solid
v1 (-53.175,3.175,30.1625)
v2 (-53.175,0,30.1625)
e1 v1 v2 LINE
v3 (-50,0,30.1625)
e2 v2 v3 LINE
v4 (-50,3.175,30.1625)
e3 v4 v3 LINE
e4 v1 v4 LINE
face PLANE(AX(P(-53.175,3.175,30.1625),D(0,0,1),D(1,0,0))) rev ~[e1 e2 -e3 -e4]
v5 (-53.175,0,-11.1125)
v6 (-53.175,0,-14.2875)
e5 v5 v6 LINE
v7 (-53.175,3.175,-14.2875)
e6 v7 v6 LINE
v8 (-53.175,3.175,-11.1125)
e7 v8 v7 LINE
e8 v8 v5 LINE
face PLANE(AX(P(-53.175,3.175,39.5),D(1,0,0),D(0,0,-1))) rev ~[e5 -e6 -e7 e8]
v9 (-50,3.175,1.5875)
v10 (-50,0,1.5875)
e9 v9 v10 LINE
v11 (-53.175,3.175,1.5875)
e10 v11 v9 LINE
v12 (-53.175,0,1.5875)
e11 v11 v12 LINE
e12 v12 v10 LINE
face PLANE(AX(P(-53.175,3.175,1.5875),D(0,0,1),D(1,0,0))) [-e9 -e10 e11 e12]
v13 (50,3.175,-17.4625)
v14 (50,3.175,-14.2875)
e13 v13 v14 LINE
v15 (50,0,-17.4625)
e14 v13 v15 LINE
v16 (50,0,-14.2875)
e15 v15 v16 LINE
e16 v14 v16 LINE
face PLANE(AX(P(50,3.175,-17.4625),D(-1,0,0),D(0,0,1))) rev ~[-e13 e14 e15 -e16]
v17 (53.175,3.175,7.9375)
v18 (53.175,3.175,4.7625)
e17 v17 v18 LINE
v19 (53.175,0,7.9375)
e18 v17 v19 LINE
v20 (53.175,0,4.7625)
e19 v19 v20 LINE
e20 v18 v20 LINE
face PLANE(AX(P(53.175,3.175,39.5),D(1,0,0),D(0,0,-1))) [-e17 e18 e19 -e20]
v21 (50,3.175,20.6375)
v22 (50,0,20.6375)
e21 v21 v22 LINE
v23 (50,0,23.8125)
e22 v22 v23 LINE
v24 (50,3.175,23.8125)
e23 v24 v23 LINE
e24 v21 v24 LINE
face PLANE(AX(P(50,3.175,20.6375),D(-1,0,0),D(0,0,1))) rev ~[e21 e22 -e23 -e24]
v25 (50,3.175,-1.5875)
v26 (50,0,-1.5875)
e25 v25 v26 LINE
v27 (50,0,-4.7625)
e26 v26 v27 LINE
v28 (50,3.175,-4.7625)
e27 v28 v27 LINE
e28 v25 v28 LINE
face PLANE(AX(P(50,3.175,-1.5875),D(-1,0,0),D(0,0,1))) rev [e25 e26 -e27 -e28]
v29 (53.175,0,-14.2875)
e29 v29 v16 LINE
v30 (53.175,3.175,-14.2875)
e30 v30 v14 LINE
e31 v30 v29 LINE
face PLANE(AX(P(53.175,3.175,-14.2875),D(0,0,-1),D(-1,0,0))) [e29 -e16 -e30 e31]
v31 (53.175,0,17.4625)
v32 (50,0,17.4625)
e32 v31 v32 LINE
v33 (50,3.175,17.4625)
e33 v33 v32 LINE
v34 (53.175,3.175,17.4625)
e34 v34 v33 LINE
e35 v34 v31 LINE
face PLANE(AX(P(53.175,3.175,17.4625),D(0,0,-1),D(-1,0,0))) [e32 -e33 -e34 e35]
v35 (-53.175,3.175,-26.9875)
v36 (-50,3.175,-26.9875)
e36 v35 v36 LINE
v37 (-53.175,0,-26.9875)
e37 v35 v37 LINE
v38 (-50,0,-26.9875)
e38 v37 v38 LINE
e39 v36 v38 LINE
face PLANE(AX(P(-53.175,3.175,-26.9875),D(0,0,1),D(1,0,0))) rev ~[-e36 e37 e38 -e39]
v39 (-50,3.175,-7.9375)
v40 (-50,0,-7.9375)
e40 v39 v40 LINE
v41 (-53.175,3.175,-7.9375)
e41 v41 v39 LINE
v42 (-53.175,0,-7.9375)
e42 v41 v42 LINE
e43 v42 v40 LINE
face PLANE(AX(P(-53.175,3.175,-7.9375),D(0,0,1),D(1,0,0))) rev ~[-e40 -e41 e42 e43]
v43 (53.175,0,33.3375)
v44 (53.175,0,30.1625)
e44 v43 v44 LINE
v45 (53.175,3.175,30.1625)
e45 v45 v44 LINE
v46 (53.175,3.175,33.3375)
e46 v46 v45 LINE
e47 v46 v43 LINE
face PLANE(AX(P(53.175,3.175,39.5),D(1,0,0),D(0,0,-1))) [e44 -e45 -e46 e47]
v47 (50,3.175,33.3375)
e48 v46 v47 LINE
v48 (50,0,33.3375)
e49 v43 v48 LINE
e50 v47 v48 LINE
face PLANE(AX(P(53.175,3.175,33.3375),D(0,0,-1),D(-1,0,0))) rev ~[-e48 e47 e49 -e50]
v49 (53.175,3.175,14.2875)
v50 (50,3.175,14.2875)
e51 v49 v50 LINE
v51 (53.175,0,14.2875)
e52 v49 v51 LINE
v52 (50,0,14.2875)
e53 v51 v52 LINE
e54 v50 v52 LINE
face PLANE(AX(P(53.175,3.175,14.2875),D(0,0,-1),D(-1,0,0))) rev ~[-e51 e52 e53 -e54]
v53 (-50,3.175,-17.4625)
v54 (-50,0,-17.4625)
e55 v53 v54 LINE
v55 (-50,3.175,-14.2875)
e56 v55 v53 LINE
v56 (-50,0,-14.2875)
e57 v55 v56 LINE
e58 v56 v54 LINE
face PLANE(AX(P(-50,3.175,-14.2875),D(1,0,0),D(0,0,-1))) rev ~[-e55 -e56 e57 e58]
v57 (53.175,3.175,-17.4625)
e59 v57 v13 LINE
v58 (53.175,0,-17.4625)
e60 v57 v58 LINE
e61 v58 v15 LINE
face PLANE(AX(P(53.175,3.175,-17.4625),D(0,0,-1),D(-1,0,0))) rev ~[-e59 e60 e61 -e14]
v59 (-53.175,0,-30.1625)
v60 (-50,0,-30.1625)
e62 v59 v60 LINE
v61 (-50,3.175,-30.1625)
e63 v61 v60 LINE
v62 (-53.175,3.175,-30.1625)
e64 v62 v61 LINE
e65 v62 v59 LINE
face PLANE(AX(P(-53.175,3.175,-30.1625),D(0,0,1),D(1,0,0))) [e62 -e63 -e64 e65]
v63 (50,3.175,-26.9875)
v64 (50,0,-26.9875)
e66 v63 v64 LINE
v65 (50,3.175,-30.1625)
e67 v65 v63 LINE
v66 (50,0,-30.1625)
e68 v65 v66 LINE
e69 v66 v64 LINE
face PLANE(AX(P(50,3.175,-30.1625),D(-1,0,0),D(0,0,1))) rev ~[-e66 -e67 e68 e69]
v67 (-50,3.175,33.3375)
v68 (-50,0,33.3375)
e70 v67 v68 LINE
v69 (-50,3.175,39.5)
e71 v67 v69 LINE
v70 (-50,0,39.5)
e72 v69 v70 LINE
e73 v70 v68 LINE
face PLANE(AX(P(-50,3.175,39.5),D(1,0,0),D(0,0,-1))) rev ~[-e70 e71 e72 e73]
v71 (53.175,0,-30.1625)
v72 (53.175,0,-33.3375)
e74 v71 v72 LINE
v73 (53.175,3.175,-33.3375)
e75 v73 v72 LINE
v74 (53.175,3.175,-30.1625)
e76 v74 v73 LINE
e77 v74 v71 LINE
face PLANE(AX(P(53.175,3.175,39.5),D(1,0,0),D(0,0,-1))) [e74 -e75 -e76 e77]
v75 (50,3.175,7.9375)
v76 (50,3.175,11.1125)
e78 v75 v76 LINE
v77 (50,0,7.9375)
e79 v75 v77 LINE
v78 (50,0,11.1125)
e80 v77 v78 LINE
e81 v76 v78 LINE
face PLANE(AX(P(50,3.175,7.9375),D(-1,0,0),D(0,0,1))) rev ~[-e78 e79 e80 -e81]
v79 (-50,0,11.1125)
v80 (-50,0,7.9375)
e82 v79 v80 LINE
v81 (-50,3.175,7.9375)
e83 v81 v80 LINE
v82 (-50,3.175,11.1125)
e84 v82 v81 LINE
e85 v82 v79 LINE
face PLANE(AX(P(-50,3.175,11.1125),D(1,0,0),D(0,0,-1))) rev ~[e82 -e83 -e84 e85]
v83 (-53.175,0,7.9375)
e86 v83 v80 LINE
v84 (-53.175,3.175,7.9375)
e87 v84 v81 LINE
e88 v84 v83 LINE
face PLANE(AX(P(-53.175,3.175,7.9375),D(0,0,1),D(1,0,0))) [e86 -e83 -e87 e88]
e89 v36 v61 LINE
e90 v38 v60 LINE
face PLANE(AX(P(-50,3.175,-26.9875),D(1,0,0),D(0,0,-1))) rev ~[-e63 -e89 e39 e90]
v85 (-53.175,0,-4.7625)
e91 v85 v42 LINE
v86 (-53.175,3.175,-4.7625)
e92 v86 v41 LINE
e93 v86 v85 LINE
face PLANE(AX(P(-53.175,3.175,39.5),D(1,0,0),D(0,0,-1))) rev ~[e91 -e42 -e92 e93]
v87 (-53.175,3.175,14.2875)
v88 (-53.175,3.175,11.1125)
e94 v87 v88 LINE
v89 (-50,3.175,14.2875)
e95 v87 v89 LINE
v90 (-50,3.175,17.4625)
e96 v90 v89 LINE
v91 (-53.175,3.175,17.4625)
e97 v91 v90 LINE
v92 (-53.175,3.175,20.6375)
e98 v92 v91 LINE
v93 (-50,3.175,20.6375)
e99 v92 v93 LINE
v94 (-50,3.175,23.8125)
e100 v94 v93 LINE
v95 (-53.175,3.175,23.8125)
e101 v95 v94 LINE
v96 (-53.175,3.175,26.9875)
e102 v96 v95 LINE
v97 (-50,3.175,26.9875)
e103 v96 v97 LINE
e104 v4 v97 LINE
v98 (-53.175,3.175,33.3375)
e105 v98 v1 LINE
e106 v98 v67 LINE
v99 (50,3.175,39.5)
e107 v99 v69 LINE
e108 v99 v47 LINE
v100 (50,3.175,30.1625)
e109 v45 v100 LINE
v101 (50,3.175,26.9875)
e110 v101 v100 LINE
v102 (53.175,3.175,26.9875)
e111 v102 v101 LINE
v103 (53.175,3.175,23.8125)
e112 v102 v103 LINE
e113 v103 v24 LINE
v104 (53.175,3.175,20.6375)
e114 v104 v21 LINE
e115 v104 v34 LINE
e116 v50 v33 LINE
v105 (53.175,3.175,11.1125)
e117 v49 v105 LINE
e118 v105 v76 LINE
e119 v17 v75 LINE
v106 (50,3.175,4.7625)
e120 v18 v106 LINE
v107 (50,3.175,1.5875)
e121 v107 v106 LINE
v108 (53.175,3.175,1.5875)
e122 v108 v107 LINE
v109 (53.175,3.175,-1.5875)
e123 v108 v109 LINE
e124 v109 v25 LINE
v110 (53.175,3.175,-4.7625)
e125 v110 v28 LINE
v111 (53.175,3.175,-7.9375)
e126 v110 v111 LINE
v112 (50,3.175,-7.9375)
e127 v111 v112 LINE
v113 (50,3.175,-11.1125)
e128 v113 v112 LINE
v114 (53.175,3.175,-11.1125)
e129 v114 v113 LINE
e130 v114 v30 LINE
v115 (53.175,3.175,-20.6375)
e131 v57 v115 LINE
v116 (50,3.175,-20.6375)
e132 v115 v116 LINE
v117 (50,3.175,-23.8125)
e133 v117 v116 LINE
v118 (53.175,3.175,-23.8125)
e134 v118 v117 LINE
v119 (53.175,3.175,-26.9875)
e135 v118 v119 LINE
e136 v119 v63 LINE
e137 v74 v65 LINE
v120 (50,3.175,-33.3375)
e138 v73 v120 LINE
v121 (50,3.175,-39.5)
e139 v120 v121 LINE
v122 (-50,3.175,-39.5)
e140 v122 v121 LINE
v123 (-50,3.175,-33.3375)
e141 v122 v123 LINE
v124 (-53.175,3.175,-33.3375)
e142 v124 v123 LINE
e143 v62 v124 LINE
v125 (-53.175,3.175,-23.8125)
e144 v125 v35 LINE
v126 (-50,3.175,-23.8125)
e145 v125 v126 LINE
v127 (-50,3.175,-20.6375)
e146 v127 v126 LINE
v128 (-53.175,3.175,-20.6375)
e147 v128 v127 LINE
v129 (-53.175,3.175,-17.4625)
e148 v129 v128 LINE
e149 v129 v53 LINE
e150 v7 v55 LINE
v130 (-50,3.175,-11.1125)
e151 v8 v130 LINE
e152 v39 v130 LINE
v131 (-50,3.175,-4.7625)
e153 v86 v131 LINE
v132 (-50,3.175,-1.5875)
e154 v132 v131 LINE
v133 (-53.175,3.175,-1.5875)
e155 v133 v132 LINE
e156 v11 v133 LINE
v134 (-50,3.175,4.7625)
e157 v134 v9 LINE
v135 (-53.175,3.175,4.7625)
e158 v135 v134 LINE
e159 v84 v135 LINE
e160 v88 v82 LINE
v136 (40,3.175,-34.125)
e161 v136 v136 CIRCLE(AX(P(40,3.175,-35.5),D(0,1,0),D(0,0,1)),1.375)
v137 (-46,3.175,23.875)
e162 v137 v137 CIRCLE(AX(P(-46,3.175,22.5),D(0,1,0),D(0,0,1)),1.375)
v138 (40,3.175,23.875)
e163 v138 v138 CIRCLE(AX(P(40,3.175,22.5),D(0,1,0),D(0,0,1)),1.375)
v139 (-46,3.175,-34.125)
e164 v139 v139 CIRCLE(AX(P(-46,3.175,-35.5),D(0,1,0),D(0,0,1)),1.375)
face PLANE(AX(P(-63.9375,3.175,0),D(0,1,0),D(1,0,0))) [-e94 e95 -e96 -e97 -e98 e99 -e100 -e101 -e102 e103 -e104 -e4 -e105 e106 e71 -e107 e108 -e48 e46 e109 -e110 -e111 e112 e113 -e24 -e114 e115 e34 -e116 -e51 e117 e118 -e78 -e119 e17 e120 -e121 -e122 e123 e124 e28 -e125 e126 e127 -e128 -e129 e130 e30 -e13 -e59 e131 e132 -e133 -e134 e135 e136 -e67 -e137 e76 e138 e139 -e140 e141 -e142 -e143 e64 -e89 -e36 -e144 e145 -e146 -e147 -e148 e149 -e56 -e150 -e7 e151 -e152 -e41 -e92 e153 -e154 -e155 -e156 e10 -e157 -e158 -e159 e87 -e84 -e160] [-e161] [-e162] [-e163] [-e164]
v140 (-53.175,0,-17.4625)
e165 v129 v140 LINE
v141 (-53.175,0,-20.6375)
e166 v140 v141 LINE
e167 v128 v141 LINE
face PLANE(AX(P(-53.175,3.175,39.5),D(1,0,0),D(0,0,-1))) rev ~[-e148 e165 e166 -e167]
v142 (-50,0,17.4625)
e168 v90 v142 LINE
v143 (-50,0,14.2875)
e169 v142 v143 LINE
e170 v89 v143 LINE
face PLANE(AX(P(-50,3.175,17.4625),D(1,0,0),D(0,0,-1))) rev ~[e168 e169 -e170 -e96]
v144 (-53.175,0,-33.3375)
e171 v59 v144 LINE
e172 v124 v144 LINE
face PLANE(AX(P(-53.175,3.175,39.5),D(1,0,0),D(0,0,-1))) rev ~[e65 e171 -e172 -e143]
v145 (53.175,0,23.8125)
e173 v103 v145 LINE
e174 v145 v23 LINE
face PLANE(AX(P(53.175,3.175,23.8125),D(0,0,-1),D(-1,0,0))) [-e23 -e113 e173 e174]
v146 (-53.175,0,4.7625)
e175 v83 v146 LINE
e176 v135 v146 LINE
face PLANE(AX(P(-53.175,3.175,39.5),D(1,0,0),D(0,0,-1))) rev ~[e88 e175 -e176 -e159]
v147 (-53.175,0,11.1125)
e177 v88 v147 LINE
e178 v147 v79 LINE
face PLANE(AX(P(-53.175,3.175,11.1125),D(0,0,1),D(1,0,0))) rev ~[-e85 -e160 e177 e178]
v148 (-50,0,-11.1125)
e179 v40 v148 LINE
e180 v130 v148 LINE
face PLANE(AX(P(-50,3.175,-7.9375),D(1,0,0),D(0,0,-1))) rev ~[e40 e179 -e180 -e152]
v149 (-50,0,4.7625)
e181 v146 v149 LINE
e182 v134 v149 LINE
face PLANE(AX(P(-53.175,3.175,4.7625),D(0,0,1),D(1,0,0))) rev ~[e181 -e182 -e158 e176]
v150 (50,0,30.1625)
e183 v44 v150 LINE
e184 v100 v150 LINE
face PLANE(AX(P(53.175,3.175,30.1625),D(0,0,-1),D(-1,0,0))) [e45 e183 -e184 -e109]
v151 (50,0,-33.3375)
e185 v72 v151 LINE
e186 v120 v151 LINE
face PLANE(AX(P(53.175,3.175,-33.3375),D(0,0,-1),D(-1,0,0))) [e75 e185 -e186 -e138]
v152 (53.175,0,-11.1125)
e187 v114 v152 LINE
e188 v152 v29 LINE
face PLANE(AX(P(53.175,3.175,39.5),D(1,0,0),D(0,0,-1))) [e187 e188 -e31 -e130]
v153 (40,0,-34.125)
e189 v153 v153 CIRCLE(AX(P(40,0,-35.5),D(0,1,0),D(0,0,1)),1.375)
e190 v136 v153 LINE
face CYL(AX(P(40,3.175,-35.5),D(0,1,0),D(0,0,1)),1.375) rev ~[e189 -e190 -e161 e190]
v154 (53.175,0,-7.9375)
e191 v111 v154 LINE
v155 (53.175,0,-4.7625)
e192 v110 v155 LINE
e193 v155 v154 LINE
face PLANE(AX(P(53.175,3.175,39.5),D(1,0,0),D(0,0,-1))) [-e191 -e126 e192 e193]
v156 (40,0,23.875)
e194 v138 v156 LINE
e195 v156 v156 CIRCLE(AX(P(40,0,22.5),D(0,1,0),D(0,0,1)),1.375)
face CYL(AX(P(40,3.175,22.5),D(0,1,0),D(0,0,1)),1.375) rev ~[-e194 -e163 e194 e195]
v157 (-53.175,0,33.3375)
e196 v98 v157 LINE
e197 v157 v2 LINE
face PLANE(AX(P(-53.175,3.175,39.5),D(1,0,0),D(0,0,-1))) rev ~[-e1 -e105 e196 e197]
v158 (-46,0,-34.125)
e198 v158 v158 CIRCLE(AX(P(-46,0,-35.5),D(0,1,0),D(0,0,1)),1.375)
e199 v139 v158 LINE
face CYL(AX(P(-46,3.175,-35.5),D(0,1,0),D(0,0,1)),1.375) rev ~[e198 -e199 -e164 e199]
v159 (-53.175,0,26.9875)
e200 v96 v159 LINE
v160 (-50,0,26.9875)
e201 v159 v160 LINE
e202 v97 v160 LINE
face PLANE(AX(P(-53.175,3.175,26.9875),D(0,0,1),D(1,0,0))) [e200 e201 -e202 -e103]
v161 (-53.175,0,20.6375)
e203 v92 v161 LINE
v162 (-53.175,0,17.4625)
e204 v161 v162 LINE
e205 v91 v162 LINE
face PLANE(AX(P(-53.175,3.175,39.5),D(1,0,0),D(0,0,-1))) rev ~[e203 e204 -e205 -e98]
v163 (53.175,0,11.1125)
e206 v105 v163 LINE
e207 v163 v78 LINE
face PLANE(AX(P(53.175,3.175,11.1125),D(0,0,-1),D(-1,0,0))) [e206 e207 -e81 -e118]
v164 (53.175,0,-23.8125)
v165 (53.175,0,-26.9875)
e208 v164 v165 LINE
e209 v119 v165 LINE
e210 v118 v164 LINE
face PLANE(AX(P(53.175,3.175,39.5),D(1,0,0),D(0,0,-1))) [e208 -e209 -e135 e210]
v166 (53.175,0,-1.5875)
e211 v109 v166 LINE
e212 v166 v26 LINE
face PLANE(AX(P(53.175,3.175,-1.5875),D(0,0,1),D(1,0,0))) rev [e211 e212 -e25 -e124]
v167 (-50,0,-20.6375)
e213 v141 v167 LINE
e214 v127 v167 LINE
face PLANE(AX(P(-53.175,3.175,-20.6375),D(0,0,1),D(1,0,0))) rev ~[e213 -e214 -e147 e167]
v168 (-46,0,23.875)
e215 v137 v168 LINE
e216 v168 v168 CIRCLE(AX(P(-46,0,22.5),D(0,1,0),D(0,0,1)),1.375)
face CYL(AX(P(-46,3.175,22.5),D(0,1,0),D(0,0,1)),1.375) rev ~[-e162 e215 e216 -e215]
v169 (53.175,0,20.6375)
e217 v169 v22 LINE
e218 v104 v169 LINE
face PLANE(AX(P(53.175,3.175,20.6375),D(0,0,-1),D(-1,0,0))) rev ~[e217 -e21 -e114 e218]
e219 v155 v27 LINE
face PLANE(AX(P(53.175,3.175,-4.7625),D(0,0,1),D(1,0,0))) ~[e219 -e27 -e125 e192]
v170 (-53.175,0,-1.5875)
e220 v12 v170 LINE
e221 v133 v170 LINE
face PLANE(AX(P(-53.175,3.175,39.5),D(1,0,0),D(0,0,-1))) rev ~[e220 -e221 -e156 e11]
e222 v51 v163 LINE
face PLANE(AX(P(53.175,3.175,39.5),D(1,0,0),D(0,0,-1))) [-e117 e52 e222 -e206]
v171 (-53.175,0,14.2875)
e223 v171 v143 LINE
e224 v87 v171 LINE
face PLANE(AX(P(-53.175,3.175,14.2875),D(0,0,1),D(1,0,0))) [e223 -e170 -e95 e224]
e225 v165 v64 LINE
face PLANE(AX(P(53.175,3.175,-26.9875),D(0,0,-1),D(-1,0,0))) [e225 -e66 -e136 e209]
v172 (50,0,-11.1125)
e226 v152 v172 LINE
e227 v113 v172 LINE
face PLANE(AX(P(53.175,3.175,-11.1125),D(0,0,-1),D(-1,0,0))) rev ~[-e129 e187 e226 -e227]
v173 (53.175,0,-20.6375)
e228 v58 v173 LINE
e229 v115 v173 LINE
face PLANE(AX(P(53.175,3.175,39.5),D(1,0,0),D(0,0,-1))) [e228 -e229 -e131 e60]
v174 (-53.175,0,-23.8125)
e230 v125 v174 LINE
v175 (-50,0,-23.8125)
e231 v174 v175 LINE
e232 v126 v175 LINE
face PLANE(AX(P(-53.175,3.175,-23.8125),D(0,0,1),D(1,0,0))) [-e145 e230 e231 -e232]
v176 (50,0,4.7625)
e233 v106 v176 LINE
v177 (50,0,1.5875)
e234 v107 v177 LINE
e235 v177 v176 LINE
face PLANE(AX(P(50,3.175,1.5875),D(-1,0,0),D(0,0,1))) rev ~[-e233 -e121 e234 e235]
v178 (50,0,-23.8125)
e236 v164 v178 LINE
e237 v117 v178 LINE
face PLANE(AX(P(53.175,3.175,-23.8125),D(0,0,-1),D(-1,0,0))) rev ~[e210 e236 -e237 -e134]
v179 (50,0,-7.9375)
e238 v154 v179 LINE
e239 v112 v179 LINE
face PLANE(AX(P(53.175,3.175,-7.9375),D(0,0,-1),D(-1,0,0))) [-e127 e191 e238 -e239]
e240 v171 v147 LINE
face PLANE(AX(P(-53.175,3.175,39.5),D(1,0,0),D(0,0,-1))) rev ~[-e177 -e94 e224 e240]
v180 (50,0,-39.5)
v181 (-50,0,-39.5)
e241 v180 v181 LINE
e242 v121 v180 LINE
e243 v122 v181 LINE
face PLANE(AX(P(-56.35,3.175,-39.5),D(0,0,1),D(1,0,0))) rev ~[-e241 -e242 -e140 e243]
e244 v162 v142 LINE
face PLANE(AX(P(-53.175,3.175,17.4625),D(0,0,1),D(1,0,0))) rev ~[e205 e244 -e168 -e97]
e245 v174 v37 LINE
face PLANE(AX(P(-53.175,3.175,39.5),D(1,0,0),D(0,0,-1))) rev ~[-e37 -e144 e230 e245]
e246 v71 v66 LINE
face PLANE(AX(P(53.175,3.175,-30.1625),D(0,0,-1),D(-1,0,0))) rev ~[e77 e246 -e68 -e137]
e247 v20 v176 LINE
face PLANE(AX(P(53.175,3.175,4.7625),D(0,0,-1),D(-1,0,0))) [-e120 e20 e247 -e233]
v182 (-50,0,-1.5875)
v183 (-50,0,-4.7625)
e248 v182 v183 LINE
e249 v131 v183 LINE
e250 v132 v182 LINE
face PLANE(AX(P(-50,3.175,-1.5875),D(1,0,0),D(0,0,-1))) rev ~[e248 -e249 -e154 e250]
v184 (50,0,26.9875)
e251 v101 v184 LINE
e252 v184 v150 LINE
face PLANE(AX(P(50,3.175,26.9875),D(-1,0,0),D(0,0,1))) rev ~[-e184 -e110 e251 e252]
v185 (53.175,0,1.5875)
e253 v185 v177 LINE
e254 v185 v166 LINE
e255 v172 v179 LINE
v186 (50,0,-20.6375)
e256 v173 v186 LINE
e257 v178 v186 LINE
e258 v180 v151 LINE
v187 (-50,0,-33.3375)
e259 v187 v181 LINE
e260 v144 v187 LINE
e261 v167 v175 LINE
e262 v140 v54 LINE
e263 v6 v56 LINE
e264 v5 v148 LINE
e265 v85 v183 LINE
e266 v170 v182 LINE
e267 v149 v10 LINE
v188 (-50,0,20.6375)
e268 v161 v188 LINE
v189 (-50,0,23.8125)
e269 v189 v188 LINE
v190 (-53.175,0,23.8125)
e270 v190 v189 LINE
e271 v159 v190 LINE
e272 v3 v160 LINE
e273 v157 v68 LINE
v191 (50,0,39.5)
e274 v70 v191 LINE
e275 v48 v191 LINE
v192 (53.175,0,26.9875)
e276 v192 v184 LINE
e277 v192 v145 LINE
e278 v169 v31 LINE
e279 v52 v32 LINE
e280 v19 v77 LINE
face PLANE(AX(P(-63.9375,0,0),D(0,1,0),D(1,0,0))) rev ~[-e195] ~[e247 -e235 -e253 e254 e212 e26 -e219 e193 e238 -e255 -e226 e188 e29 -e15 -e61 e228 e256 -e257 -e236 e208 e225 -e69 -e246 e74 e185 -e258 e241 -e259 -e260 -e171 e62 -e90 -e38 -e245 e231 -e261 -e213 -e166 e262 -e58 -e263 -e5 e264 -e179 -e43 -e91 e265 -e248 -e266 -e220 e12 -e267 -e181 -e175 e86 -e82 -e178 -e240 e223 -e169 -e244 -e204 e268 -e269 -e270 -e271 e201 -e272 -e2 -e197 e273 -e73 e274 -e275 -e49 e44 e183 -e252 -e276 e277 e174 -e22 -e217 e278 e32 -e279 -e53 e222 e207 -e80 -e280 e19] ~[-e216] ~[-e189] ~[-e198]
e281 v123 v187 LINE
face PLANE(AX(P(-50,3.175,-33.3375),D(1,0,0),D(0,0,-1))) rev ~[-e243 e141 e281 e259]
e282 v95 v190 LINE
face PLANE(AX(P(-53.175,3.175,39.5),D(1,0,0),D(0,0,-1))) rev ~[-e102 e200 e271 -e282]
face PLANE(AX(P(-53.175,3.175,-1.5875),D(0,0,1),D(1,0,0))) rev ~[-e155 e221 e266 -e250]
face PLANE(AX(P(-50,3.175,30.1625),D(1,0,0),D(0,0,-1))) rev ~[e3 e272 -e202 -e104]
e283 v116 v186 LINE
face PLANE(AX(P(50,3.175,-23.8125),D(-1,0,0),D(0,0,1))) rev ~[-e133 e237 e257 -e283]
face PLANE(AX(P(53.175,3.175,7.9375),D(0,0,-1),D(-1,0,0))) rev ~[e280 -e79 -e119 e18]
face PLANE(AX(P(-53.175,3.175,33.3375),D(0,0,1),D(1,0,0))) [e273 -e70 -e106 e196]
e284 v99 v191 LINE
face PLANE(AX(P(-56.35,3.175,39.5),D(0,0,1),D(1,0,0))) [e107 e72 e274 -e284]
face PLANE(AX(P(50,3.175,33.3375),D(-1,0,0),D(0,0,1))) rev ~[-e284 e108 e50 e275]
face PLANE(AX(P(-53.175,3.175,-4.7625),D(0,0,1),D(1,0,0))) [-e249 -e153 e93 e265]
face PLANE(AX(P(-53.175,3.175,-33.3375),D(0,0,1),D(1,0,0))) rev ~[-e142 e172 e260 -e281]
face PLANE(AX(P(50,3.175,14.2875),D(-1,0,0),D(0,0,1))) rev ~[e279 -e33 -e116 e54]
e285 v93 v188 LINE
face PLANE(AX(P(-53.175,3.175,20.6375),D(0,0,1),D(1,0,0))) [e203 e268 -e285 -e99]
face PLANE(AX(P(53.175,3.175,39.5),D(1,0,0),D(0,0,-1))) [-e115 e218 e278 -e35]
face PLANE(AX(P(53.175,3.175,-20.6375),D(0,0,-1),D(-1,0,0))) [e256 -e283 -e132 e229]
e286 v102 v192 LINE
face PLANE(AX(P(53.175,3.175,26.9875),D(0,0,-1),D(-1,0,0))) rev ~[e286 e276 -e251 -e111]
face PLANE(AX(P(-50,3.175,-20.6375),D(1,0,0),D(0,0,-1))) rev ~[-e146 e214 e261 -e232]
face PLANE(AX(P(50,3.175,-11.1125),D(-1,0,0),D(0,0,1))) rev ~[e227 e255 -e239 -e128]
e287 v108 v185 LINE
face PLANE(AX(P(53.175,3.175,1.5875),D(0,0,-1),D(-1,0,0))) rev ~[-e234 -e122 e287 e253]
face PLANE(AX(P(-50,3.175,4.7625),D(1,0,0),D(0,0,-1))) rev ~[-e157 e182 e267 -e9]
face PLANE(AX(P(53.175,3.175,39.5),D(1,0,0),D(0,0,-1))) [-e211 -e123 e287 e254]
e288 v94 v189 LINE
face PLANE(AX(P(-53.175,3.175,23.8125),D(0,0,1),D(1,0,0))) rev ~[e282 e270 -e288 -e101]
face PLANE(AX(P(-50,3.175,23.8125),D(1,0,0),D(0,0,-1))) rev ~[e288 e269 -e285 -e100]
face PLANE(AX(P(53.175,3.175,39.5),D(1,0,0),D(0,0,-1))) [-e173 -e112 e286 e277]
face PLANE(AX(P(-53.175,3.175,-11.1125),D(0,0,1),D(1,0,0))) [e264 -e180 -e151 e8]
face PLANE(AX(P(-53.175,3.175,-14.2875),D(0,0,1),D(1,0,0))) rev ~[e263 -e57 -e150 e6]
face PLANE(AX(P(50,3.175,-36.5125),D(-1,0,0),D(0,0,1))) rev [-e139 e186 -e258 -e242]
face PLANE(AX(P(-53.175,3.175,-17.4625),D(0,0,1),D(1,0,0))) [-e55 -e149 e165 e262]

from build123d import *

# Parameters (mm, degrees)
SKETCH1_W                = 100
SKETCH1_H                = 79
BOSS_EXTRUDE1_DEPTH      = 3.175
SKETCH3_R                = 1.375
CUT_EXTRUDE1_DEPTH       = 10
SKETCH4_W                = 6.35
SKETCH4_H                = 79
BOSS_EXTRUDE2_DEPTH      = 3.175
SKETCH5_W                = 3.175
SKETCH5_H                = 3.175
CUT_EXTRUDE2_DEPTH       = 10
LPATTERN1_COUNT          = 7
LPATTERN1_PITCH          = 6.35
LPATTERN1_COUNT_DIR2     = 7
LPATTERN1_PITCH_DIR2     = 6.35
SKETCH6_W                = 3.175
SKETCH6_H                = 2.9875
CUT_EXTRUDE3_DEPTH       = 10
MIRROR1_COPY_1_SKETCH_W  = 3.175
MIRROR1_COPY_1_SKETCH_H  = 3.175
MIRROR1_COPY_1_DEPTH     = 10
MIRROR1_COPY_2_SKETCH_W  = 3.175
MIRROR1_COPY_2_SKETCH_H  = 3.175
MIRROR1_COPY_2_DEPTH     = 10
MIRROR1_COPY_3_SKETCH_W  = 3.175
MIRROR1_COPY_3_SKETCH_H  = 3.175
MIRROR1_COPY_3_DEPTH     = 10
MIRROR1_COPY_4_SKETCH_W  = 3.175
MIRROR1_COPY_4_SKETCH_H  = 3.175
MIRROR1_COPY_4_DEPTH     = 10
MIRROR1_COPY_5_SKETCH_W  = 3.175
MIRROR1_COPY_5_SKETCH_H  = 3.175
MIRROR1_COPY_5_DEPTH     = 10
MIRROR1_COPY_6_SKETCH_W  = 3.175
MIRROR1_COPY_6_SKETCH_H  = 3.175
MIRROR1_COPY_6_DEPTH     = 10
MIRROR1_COPY_7_SKETCH_W  = 3.175
MIRROR1_COPY_7_SKETCH_H  = 3.175
MIRROR1_COPY_7_DEPTH     = 10
MIRROR1_COPY_8_SKETCH_W  = 3.175
MIRROR1_COPY_8_SKETCH_H  = 3.175
MIRROR1_COPY_8_DEPTH     = 10
MIRROR1_COPY_9_SKETCH_W  = 3.175
MIRROR1_COPY_9_SKETCH_H  = 3.175
MIRROR1_COPY_9_DEPTH     = 10
MIRROR1_COPY_10_SKETCH_W = 3.175
MIRROR1_COPY_10_SKETCH_H = 3.175
MIRROR1_COPY_10_DEPTH    = 10
MIRROR1_COPY_11_SKETCH_W = 3.175
MIRROR1_COPY_11_SKETCH_H = 3.175
MIRROR1_COPY_11_DEPTH    = 10
MIRROR1_COPY_12_SKETCH_W = 3.175
MIRROR1_COPY_12_SKETCH_H = 3.175
MIRROR1_COPY_12_DEPTH    = 10
MIRROR1_COPY_13_SKETCH_W = 3.175
MIRROR1_COPY_13_SKETCH_H = 3.175
MIRROR1_COPY_13_DEPTH    = 10
MIRROR1_COPY_14_SKETCH_W = 3.175
MIRROR1_COPY_14_SKETCH_H = 3.175
MIRROR1_COPY_14_DEPTH    = 10
MIRROR1_COPY_15_SKETCH_W = 3.175
MIRROR1_COPY_15_SKETCH_H = 3.175
MIRROR1_COPY_15_DEPTH    = 10
MIRROR1_COPY_16_SKETCH_W = 3.175
MIRROR1_COPY_16_SKETCH_H = 3.175
MIRROR1_COPY_16_DEPTH    = 10
MIRROR1_COPY_17_SKETCH_W = 3.175
MIRROR1_COPY_17_SKETCH_H = 3.175
MIRROR1_COPY_17_DEPTH    = 10
MIRROR1_COPY_18_SKETCH_W = 3.175
MIRROR1_COPY_18_SKETCH_H = 3.175
MIRROR1_COPY_18_DEPTH    = 10
MIRROR1_COPY_19_SKETCH_W = 3.175
MIRROR1_COPY_19_SKETCH_H = 3.175
MIRROR1_COPY_19_DEPTH    = 10
MIRROR1_COPY_20_SKETCH_W = 3.175
MIRROR1_COPY_20_SKETCH_H = 3.175
MIRROR1_COPY_20_DEPTH    = 10
MIRROR1_COPY_21_SKETCH_W = 3.175
MIRROR1_COPY_21_SKETCH_H = 3.175
MIRROR1_COPY_21_DEPTH    = 10
MIRROR1_COPY_22_SKETCH_W = 3.175
MIRROR1_COPY_22_SKETCH_H = 3.175
MIRROR1_COPY_22_DEPTH    = 10
MIRROR1_COPY_23_SKETCH_W = 3.175
MIRROR1_COPY_23_SKETCH_H = 3.175
MIRROR1_COPY_23_DEPTH    = 10
MIRROR1_COPY_24_SKETCH_W = 3.175
MIRROR1_COPY_24_SKETCH_H = 3.175
MIRROR1_COPY_24_DEPTH    = 10
MIRROR1_COPY_25_SKETCH_W = 3.175
MIRROR1_COPY_25_SKETCH_H = 3.175
MIRROR1_COPY_25_DEPTH    = 10
MIRROR1_COPY_26_SKETCH_W = 3.175
MIRROR1_COPY_26_SKETCH_H = 3.175
MIRROR1_COPY_26_DEPTH    = 10
MIRROR1_COPY_27_SKETCH_W = 3.175
MIRROR1_COPY_27_SKETCH_H = 3.175
MIRROR1_COPY_27_DEPTH    = 10
MIRROR1_COPY_28_SKETCH_W = 3.175
MIRROR1_COPY_28_SKETCH_H = 3.175
MIRROR1_COPY_28_DEPTH    = 10
MIRROR1_COPY_29_SKETCH_W = 3.175
MIRROR1_COPY_29_SKETCH_H = 3.175
MIRROR1_COPY_29_DEPTH    = 10
MIRROR1_COPY_30_SKETCH_W = 3.175
MIRROR1_COPY_30_SKETCH_H = 3.175
MIRROR1_COPY_30_DEPTH    = 10
MIRROR1_COPY_31_SKETCH_W = 3.175
MIRROR1_COPY_31_SKETCH_H = 3.175
MIRROR1_COPY_31_DEPTH    = 10
MIRROR1_COPY_32_SKETCH_W = 3.175
MIRROR1_COPY_32_SKETCH_H = 3.175
MIRROR1_COPY_32_DEPTH    = 10
MIRROR1_COPY_33_SKETCH_W = 3.175
MIRROR1_COPY_33_SKETCH_H = 3.175
MIRROR1_COPY_33_DEPTH    = 10
MIRROR1_COPY_34_SKETCH_W = 3.175
MIRROR1_COPY_34_SKETCH_H = 3.175
MIRROR1_COPY_34_DEPTH    = 10
MIRROR1_COPY_35_SKETCH_W = 3.175
MIRROR1_COPY_35_SKETCH_H = 3.175
MIRROR1_COPY_35_DEPTH    = 10
MIRROR1_COPY_36_SKETCH_W = 3.175
MIRROR1_COPY_36_SKETCH_H = 3.175
MIRROR1_COPY_36_DEPTH    = 10
MIRROR1_COPY_37_SKETCH_W = 3.175
MIRROR1_COPY_37_SKETCH_H = 3.175
MIRROR1_COPY_37_DEPTH    = 10
MIRROR1_COPY_38_SKETCH_W = 3.175
MIRROR1_COPY_38_SKETCH_H = 3.175
MIRROR1_COPY_38_DEPTH    = 10
MIRROR1_COPY_39_SKETCH_W = 3.175
MIRROR1_COPY_39_SKETCH_H = 3.175
MIRROR1_COPY_39_DEPTH    = 10
MIRROR1_COPY_40_SKETCH_W = 3.175
MIRROR1_COPY_40_SKETCH_H = 3.175
MIRROR1_COPY_40_DEPTH    = 10
MIRROR1_COPY_41_SKETCH_W = 3.175
MIRROR1_COPY_41_SKETCH_H = 3.175
MIRROR1_COPY_41_DEPTH    = 10
MIRROR1_COPY_42_SKETCH_W = 3.175
MIRROR1_COPY_42_SKETCH_H = 3.175
MIRROR1_COPY_42_DEPTH    = 10
MIRROR1_COPY_43_SKETCH_W = 3.175
MIRROR1_COPY_43_SKETCH_H = 3.175
MIRROR1_COPY_43_DEPTH    = 10
MIRROR1_COPY_44_SKETCH_W = 3.175
MIRROR1_COPY_44_SKETCH_H = 3.175
MIRROR1_COPY_44_DEPTH    = 10
MIRROR1_COPY_45_SKETCH_W = 3.175
MIRROR1_COPY_45_SKETCH_H = 3.175
MIRROR1_COPY_45_DEPTH    = 10
MIRROR1_COPY_46_SKETCH_W = 3.175
MIRROR1_COPY_46_SKETCH_H = 3.175
MIRROR1_COPY_46_DEPTH    = 10
MIRROR1_COPY_47_SKETCH_W = 3.175
MIRROR1_COPY_47_SKETCH_H = 3.175
MIRROR1_COPY_47_DEPTH    = 10
SKETCH7_W                = 6
SKETCH7_H                = 79
SKETCH7_R                = 1.5
BOSS_EXTRUDE3_DEPTH      = 3.175
SKETCH8_W                = 3.175
SKETCH8_H                = 79
BOSS_EXTRUDE4_DEPTH      = 3.175
SKETCH10_W               = 12.35
SKETCH10_H               = 79
CUT_EXTRUDE4_DEPTH       = 10


with BuildPart() as part:
    # Sketch1 → Boss-Extrude1 (new body)
    with BuildSketch(Plane(origin=(0, 0, 0), x_dir=(1, 0, 0), z_dir=(0, 1, 0))):
        Rectangle(SKETCH1_W, SKETCH1_H)
    extrude(amount=BOSS_EXTRUDE1_DEPTH)

    # Sketch3 → Cut-Extrude1 (cut)
    with BuildSketch(Plane(origin=(0, 3.175, 0), x_dir=(1, 0, 0), z_dir=(0, 1, 0))):
        with Locations(Location((-46, 35.5, 0), (0, 0, 270))):
            Circle(SKETCH3_R)
        with Locations(Location((-46, -22.5, 0), (0, 0, 270))):
            Circle(SKETCH3_R)
        with Locations(Location((40, 35.5, 0), (0, 0, 270))):
            Circle(SKETCH3_R)
        with Locations(Location((40, -22.5, 0), (0, 0, 270))):
            Circle(SKETCH3_R)
    extrude(amount=-CUT_EXTRUDE1_DEPTH, mode=Mode.SUBTRACT)

    # Sketch4 → Boss-Extrude2 (add)
    with BuildSketch(Plane(origin=(0, 3.175, 0), x_dir=(1, 0, 0), z_dir=(0, 1, 0))):
        with Locations((-53.175, 0)):
            Rectangle(SKETCH4_W, SKETCH4_H)
        with Locations((53.175, 0)):
            Rectangle(SKETCH4_W, SKETCH4_H)
    extrude(amount=-BOSS_EXTRUDE2_DEPTH)

    # Sketch5 → Cut-Extrude2 (cut)
    with BuildSketch(Plane(origin=(0, 3.175, 0), x_dir=(1, 0, 0), z_dir=(0, 1, 0))):
        with Locations((-51.5875, 3.175)):
            Rectangle(SKETCH5_W, SKETCH5_H)
    cut_extrude2 = extrude(amount=-CUT_EXTRUDE2_DEPTH, mode=Mode.SUBTRACT)

    # LPattern1: Cut-Extrude2 7 × 7, 1 skipped
    with Locations(*[Vector(0, 0, 1) * (i * LPATTERN1_PITCH) + Vector(0, 0, -1) * (j * LPATTERN1_PITCH_DIR2) for i in range(LPATTERN1_COUNT) for j in range(LPATTERN1_COUNT_DIR2) if (i, j) not in ((0, 0), (0, 6))]):
        add(cut_extrude2, mode=Mode.SUBTRACT)

    # Sketch6 → Cut-Extrude3 (cut)
    with BuildSketch(Plane(origin=(0, 3.175, 0), x_dir=(1, 0, 0), z_dir=(0, 1, 0))):
        with Locations((-51.5875, 38.00625)):
            Rectangle(SKETCH6_W, SKETCH6_H)
        with Locations((-51.5875, -38.00625)):
            Rectangle(SKETCH6_W, SKETCH6_H)
    cut_extrude3 = extrude(amount=-CUT_EXTRUDE3_DEPTH, mode=Mode.SUBTRACT)

    # Mirror1: Cut-Extrude2, Cut-Extrude3 across plane
    add(cut_extrude2.mirror(Plane(origin=(0, 0, 0), x_dir=(0, 0, 1), z_dir=(1, 0, 0))), mode=Mode.SUBTRACT)
    add(cut_extrude3.mirror(Plane(origin=(0, 0, 0), x_dir=(0, 0, 1), z_dir=(1, 0, 0))), mode=Mode.SUBTRACT)

    # Mirror1 copy 1 sketch → Mirror1 copy 1 (cut)
    with BuildSketch(Plane(origin=(0, 3.175, -6.35), x_dir=(-1, 0, 0), z_dir=(0, 1, 0))):
        with Locations((-51.5875, -3.175)):
            Rectangle(MIRROR1_COPY_1_SKETCH_W, MIRROR1_COPY_1_SKETCH_H)
    extrude(amount=-MIRROR1_COPY_1_DEPTH, mode=Mode.SUBTRACT)

    # Mirror1 copy 2 sketch → Mirror1 copy 2 (cut)
    with BuildSketch(Plane(origin=(0, 3.175, -12.7), x_dir=(-1, 0, 0), z_dir=(0, 1, 0))):
        with Locations((-51.5875, -3.175)):
            Rectangle(MIRROR1_COPY_2_SKETCH_W, MIRROR1_COPY_2_SKETCH_H)
    extrude(amount=-MIRROR1_COPY_2_DEPTH, mode=Mode.SUBTRACT)

    # Mirror1 copy 3 sketch → Mirror1 copy 3 (cut)
    with BuildSketch(Plane(origin=(0, 3.175, -19.05), x_dir=(-1, 0, 0), z_dir=(0, 1, 0))):
        with Locations((-51.5875, -3.175)):
            Rectangle(MIRROR1_COPY_3_SKETCH_W, MIRROR1_COPY_3_SKETCH_H)
    extrude(amount=-MIRROR1_COPY_3_DEPTH, mode=Mode.SUBTRACT)

    # Mirror1 copy 4 sketch → Mirror1 copy 4 (cut)
    with BuildSketch(Plane(origin=(0, 3.175, -25.4), x_dir=(-1, 0, 0), z_dir=(0, 1, 0))):
        with Locations((-51.5875, -3.175)):
            Rectangle(MIRROR1_COPY_4_SKETCH_W, MIRROR1_COPY_4_SKETCH_H)
    extrude(amount=-MIRROR1_COPY_4_DEPTH, mode=Mode.SUBTRACT)

    # Mirror1 copy 5 sketch → Mirror1 copy 5 (cut)
    with BuildSketch(Plane(origin=(0, 3.175, -31.75), x_dir=(-1, 0, 0), z_dir=(0, 1, 0))):
        with Locations((-51.5875, -3.175)):
            Rectangle(MIRROR1_COPY_5_SKETCH_W, MIRROR1_COPY_5_SKETCH_H)
    extrude(amount=-MIRROR1_COPY_5_DEPTH, mode=Mode.SUBTRACT)

    # Mirror1 copy 6 sketch → Mirror1 copy 6 (cut)
    with BuildSketch(Plane(origin=(0, 3.175, 6.35), x_dir=(-1, 0, 0), z_dir=(0, 1, 0))):
        with Locations((-51.5875, -3.175)):
            Rectangle(MIRROR1_COPY_6_SKETCH_W, MIRROR1_COPY_6_SKETCH_H)
    extrude(amount=-MIRROR1_COPY_6_DEPTH, mode=Mode.SUBTRACT)

    # Mirror1 copy 7 sketch → Mirror1 copy 7 (cut)
    with BuildSketch(Plane(origin=(0, 3.175, 0), x_dir=(-1, 0, 0), z_dir=(0, 1, 0))):
        with Locations((-51.5875, -3.175)):
            Rectangle(MIRROR1_COPY_7_SKETCH_W, MIRROR1_COPY_7_SKETCH_H)
    extrude(amount=-MIRROR1_COPY_7_DEPTH, mode=Mode.SUBTRACT)

    # Mirror1 copy 8 sketch → Mirror1 copy 8 (cut)
    with BuildSketch(Plane(origin=(0, 3.175, -6.35), x_dir=(-1, 0, 0), z_dir=(0, 1, 0))):
        with Locations((-51.5875, -3.175)):
            Rectangle(MIRROR1_COPY_8_SKETCH_W, MIRROR1_COPY_8_SKETCH_H)
    extrude(amount=-MIRROR1_COPY_8_DEPTH, mode=Mode.SUBTRACT)

    # Mirror1 copy 9 sketch → Mirror1 copy 9 (cut)
    with BuildSketch(Plane(origin=(0, 3.175, -12.7), x_dir=(-1, 0, 0), z_dir=(0, 1, 0))):
        with Locations((-51.5875, -3.175)):
            Rectangle(MIRROR1_COPY_9_SKETCH_W, MIRROR1_COPY_9_SKETCH_H)
    extrude(amount=-MIRROR1_COPY_9_DEPTH, mode=Mode.SUBTRACT)

    # Mirror1 copy 10 sketch → Mirror1 copy 10 (cut)
    with BuildSketch(Plane(origin=(0, 3.175, -19.05), x_dir=(-1, 0, 0), z_dir=(0, 1, 0))):
        with Locations((-51.5875, -3.175)):
            Rectangle(MIRROR1_COPY_10_SKETCH_W, MIRROR1_COPY_10_SKETCH_H)
    extrude(amount=-MIRROR1_COPY_10_DEPTH, mode=Mode.SUBTRACT)

    # Mirror1 copy 11 sketch → Mirror1 copy 11 (cut)
    with BuildSketch(Plane(origin=(0, 3.175, -25.4), x_dir=(-1, 0, 0), z_dir=(0, 1, 0))):
        with Locations((-51.5875, -3.175)):
            Rectangle(MIRROR1_COPY_11_SKETCH_W, MIRROR1_COPY_11_SKETCH_H)
    extrude(amount=-MIRROR1_COPY_11_DEPTH, mode=Mode.SUBTRACT)

    # Mirror1 copy 12 sketch → Mirror1 copy 12 (cut)
    with BuildSketch(Plane(origin=(0, 3.175, -31.75), x_dir=(-1, 0, 0), z_dir=(0, 1, 0))):
        with Locations((-51.5875, -3.175)):
            Rectangle(MIRROR1_COPY_12_SKETCH_W, MIRROR1_COPY_12_SKETCH_H)
    extrude(amount=-MIRROR1_COPY_12_DEPTH, mode=Mode.SUBTRACT)

    # Mirror1 copy 13 sketch → Mirror1 copy 13 (cut)
    with BuildSketch(Plane(origin=(0, 3.175, 12.7), x_dir=(-1, 0, 0), z_dir=(0, 1, 0))):
        with Locations((-51.5875, -3.175)):
            Rectangle(MIRROR1_COPY_13_SKETCH_W, MIRROR1_COPY_13_SKETCH_H)
    extrude(amount=-MIRROR1_COPY_13_DEPTH, mode=Mode.SUBTRACT)

    # Mirror1 copy 14 sketch → Mirror1 copy 14 (cut)
    with BuildSketch(Plane(origin=(0, 3.175, 6.35), x_dir=(-1, 0, 0), z_dir=(0, 1, 0))):
        with Locations((-51.5875, -3.175)):
            Rectangle(MIRROR1_COPY_14_SKETCH_W, MIRROR1_COPY_14_SKETCH_H)
    extrude(amount=-MIRROR1_COPY_14_DEPTH, mode=Mode.SUBTRACT)

    # Mirror1 copy 15 sketch → Mirror1 copy 15 (cut)
    with BuildSketch(Plane(origin=(0, 3.175, 0), x_dir=(-1, 0, 0), z_dir=(0, 1, 0))):
        with Locations((-51.5875, -3.175)):
            Rectangle(MIRROR1_COPY_15_SKETCH_W, MIRROR1_COPY_15_SKETCH_H)
    extrude(amount=-MIRROR1_COPY_15_DEPTH, mode=Mode.SUBTRACT)

    # Mirror1 copy 16 sketch → Mirror1 copy 16 (cut)
    with BuildSketch(Plane(origin=(0, 3.175, -6.35), x_dir=(-1, 0, 0), z_dir=(0, 1, 0))):
        with Locations((-51.5875, -3.175)):
            Rectangle(MIRROR1_COPY_16_SKETCH_W, MIRROR1_COPY_16_SKETCH_H)
    extrude(amount=-MIRROR1_COPY_16_DEPTH, mode=Mode.SUBTRACT)

    # Mirror1 copy 17 sketch → Mirror1 copy 17 (cut)
    with BuildSketch(Plane(origin=(0, 3.175, -12.7), x_dir=(-1, 0, 0), z_dir=(0, 1, 0))):
        with Locations((-51.5875, -3.175)):
            Rectangle(MIRROR1_COPY_17_SKETCH_W, MIRROR1_COPY_17_SKETCH_H)
    extrude(amount=-MIRROR1_COPY_17_DEPTH, mode=Mode.SUBTRACT)

    # Mirror1 copy 18 sketch → Mirror1 copy 18 (cut)
    with BuildSketch(Plane(origin=(0, 3.175, -19.05), x_dir=(-1, 0, 0), z_dir=(0, 1, 0))):
        with Locations((-51.5875, -3.175)):
            Rectangle(MIRROR1_COPY_18_SKETCH_W, MIRROR1_COPY_18_SKETCH_H)
    extrude(amount=-MIRROR1_COPY_18_DEPTH, mode=Mode.SUBTRACT)

    # Mirror1 copy 19 sketch → Mirror1 copy 19 (cut)
    with BuildSketch(Plane(origin=(0, 3.175, -25.4), x_dir=(-1, 0, 0), z_dir=(0, 1, 0))):
        with Locations((-51.5875, -3.175)):
            Rectangle(MIRROR1_COPY_19_SKETCH_W, MIRROR1_COPY_19_SKETCH_H)
    extrude(amount=-MIRROR1_COPY_19_DEPTH, mode=Mode.SUBTRACT)

    # Mirror1 copy 20 sketch → Mirror1 copy 20 (cut)
    with BuildSketch(Plane(origin=(0, 3.175, 19.05), x_dir=(-1, 0, 0), z_dir=(0, 1, 0))):
        with Locations((-51.5875, -3.175)):
            Rectangle(MIRROR1_COPY_20_SKETCH_W, MIRROR1_COPY_20_SKETCH_H)
    extrude(amount=-MIRROR1_COPY_20_DEPTH, mode=Mode.SUBTRACT)

    # Mirror1 copy 21 sketch → Mirror1 copy 21 (cut)
    with BuildSketch(Plane(origin=(0, 3.175, 12.7), x_dir=(-1, 0, 0), z_dir=(0, 1, 0))):
        with Locations((-51.5875, -3.175)):
            Rectangle(MIRROR1_COPY_21_SKETCH_W, MIRROR1_COPY_21_SKETCH_H)
    extrude(amount=-MIRROR1_COPY_21_DEPTH, mode=Mode.SUBTRACT)

    # Mirror1 copy 22 sketch → Mirror1 copy 22 (cut)
    with BuildSketch(Plane(origin=(0, 3.175, 6.35), x_dir=(-1, 0, 0), z_dir=(0, 1, 0))):
        with Locations((-51.5875, -3.175)):
            Rectangle(MIRROR1_COPY_22_SKETCH_W, MIRROR1_COPY_22_SKETCH_H)
    extrude(amount=-MIRROR1_COPY_22_DEPTH, mode=Mode.SUBTRACT)

    # Mirror1 copy 23 sketch → Mirror1 copy 23 (cut)
    with BuildSketch(Plane(origin=(0, 3.175, 0), x_dir=(-1, 0, 0), z_dir=(0, 1, 0))):
        with Locations((-51.5875, -3.175)):
            Rectangle(MIRROR1_COPY_23_SKETCH_W, MIRROR1_COPY_23_SKETCH_H)
    extrude(amount=-MIRROR1_COPY_23_DEPTH, mode=Mode.SUBTRACT)

    # Mirror1 copy 24 sketch → Mirror1 copy 24 (cut)
    with BuildSketch(Plane(origin=(0, 3.175, -6.35), x_dir=(-1, 0, 0), z_dir=(0, 1, 0))):
        with Locations((-51.5875, -3.175)):
            Rectangle(MIRROR1_COPY_24_SKETCH_W, MIRROR1_COPY_24_SKETCH_H)
    extrude(amount=-MIRROR1_COPY_24_DEPTH, mode=Mode.SUBTRACT)

    # Mirror1 copy 25 sketch → Mirror1 copy 25 (cut)
    with BuildSketch(Plane(origin=(0, 3.175, -12.7), x_dir=(-1, 0, 0), z_dir=(0, 1, 0))):
        with Locations((-51.5875, -3.175)):
            Rectangle(MIRROR1_COPY_25_SKETCH_W, MIRROR1_COPY_25_SKETCH_H)
    extrude(amount=-MIRROR1_COPY_25_DEPTH, mode=Mode.SUBTRACT)

    # Mirror1 copy 26 sketch → Mirror1 copy 26 (cut)
    with BuildSketch(Plane(origin=(0, 3.175, -19.05), x_dir=(-1, 0, 0), z_dir=(0, 1, 0))):
        with Locations((-51.5875, -3.175)):
            Rectangle(MIRROR1_COPY_26_SKETCH_W, MIRROR1_COPY_26_SKETCH_H)
    extrude(amount=-MIRROR1_COPY_26_DEPTH, mode=Mode.SUBTRACT)

    # Mirror1 copy 27 sketch → Mirror1 copy 27 (cut)
    with BuildSketch(Plane(origin=(0, 3.175, 25.4), x_dir=(-1, 0, 0), z_dir=(0, 1, 0))):
        with Locations((-51.5875, -3.175)):
            Rectangle(MIRROR1_COPY_27_SKETCH_W, MIRROR1_COPY_27_SKETCH_H)
    extrude(amount=-MIRROR1_COPY_27_DEPTH, mode=Mode.SUBTRACT)

    # Mirror1 copy 28 sketch → Mirror1 copy 28 (cut)
    with BuildSketch(Plane(origin=(0, 3.175, 19.05), x_dir=(-1, 0, 0), z_dir=(0, 1, 0))):
        with Locations((-51.5875, -3.175)):
            Rectangle(MIRROR1_COPY_28_SKETCH_W, MIRROR1_COPY_28_SKETCH_H)
    extrude(amount=-MIRROR1_COPY_28_DEPTH, mode=Mode.SUBTRACT)

    # Mirror1 copy 29 sketch → Mirror1 copy 29 (cut)
    with BuildSketch(Plane(origin=(0, 3.175, 12.7), x_dir=(-1, 0, 0), z_dir=(0, 1, 0))):
        with Locations((-51.5875, -3.175)):
            Rectangle(MIRROR1_COPY_29_SKETCH_W, MIRROR1_COPY_29_SKETCH_H)
    extrude(amount=-MIRROR1_COPY_29_DEPTH, mode=Mode.SUBTRACT)

    # Mirror1 copy 30 sketch → Mirror1 copy 30 (cut)
    with BuildSketch(Plane(origin=(0, 3.175, 6.35), x_dir=(-1, 0, 0), z_dir=(0, 1, 0))):
        with Locations((-51.5875, -3.175)):
            Rectangle(MIRROR1_COPY_30_SKETCH_W, MIRROR1_COPY_30_SKETCH_H)
    extrude(amount=-MIRROR1_COPY_30_DEPTH, mode=Mode.SUBTRACT)

    # Mirror1 copy 31 sketch → Mirror1 copy 31 (cut)
    with BuildSketch(Plane(origin=(0, 3.175, 0), x_dir=(-1, 0, 0), z_dir=(0, 1, 0))):
        with Locations((-51.5875, -3.175)):
            Rectangle(MIRROR1_COPY_31_SKETCH_W, MIRROR1_COPY_31_SKETCH_H)
    extrude(amount=-MIRROR1_COPY_31_DEPTH, mode=Mode.SUBTRACT)

    # Mirror1 copy 32 sketch → Mirror1 copy 32 (cut)
    with BuildSketch(Plane(origin=(0, 3.175, -6.35), x_dir=(-1, 0, 0), z_dir=(0, 1, 0))):
        with Locations((-51.5875, -3.175)):
            Rectangle(MIRROR1_COPY_32_SKETCH_W, MIRROR1_COPY_32_SKETCH_H)
    extrude(amount=-MIRROR1_COPY_32_DEPTH, mode=Mode.SUBTRACT)

    # Mirror1 copy 33 sketch → Mirror1 copy 33 (cut)
    with BuildSketch(Plane(origin=(0, 3.175, -12.7), x_dir=(-1, 0, 0), z_dir=(0, 1, 0))):
        with Locations((-51.5875, -3.175)):
            Rectangle(MIRROR1_COPY_33_SKETCH_W, MIRROR1_COPY_33_SKETCH_H)
    extrude(amount=-MIRROR1_COPY_33_DEPTH, mode=Mode.SUBTRACT)

    # Mirror1 copy 34 sketch → Mirror1 copy 34 (cut)
    with BuildSketch(Plane(origin=(0, 3.175, 31.75), x_dir=(-1, 0, 0), z_dir=(0, 1, 0))):
        with Locations((-51.5875, -3.175)):
            Rectangle(MIRROR1_COPY_34_SKETCH_W, MIRROR1_COPY_34_SKETCH_H)
    extrude(amount=-MIRROR1_COPY_34_DEPTH, mode=Mode.SUBTRACT)

    # Mirror1 copy 35 sketch → Mirror1 copy 35 (cut)
    with BuildSketch(Plane(origin=(0, 3.175, 25.4), x_dir=(-1, 0, 0), z_dir=(0, 1, 0))):
        with Locations((-51.5875, -3.175)):
            Rectangle(MIRROR1_COPY_35_SKETCH_W, MIRROR1_COPY_35_SKETCH_H)
    extrude(amount=-MIRROR1_COPY_35_DEPTH, mode=Mode.SUBTRACT)

    # Mirror1 copy 36 sketch → Mirror1 copy 36 (cut)
    with BuildSketch(Plane(origin=(0, 3.175, 19.05), x_dir=(-1, 0, 0), z_dir=(0, 1, 0))):
        with Locations((-51.5875, -3.175)):
            Rectangle(MIRROR1_COPY_36_SKETCH_W, MIRROR1_COPY_36_SKETCH_H)
    extrude(amount=-MIRROR1_COPY_36_DEPTH, mode=Mode.SUBTRACT)

    # Mirror1 copy 37 sketch → Mirror1 copy 37 (cut)
    with BuildSketch(Plane(origin=(0, 3.175, 12.7), x_dir=(-1, 0, 0), z_dir=(0, 1, 0))):
        with Locations((-51.5875, -3.175)):
            Rectangle(MIRROR1_COPY_37_SKETCH_W, MIRROR1_COPY_37_SKETCH_H)
    extrude(amount=-MIRROR1_COPY_37_DEPTH, mode=Mode.SUBTRACT)

    # Mirror1 copy 38 sketch → Mirror1 copy 38 (cut)
    with BuildSketch(Plane(origin=(0, 3.175, 6.35), x_dir=(-1, 0, 0), z_dir=(0, 1, 0))):
        with Locations((-51.5875, -3.175)):
            Rectangle(MIRROR1_COPY_38_SKETCH_W, MIRROR1_COPY_38_SKETCH_H)
    extrude(amount=-MIRROR1_COPY_38_DEPTH, mode=Mode.SUBTRACT)

    # Mirror1 copy 39 sketch → Mirror1 copy 39 (cut)
    with BuildSketch(Plane(origin=(0, 3.175, 0), x_dir=(-1, 0, 0), z_dir=(0, 1, 0))):
        with Locations((-51.5875, -3.175)):
            Rectangle(MIRROR1_COPY_39_SKETCH_W, MIRROR1_COPY_39_SKETCH_H)
    extrude(amount=-MIRROR1_COPY_39_DEPTH, mode=Mode.SUBTRACT)

    # Mirror1 copy 40 sketch → Mirror1 copy 40 (cut)
    with BuildSketch(Plane(origin=(0, 3.175, -6.35), x_dir=(-1, 0, 0), z_dir=(0, 1, 0))):
        with Locations((-51.5875, -3.175)):
            Rectangle(MIRROR1_COPY_40_SKETCH_W, MIRROR1_COPY_40_SKETCH_H)
    extrude(amount=-MIRROR1_COPY_40_DEPTH, mode=Mode.SUBTRACT)

    # Mirror1 copy 41 sketch → Mirror1 copy 41 (cut)
    with BuildSketch(Plane(origin=(0, 3.175, 38.1), x_dir=(-1, 0, 0), z_dir=(0, 1, 0))):
        with Locations((-51.5875, -3.175)):
            Rectangle(MIRROR1_COPY_41_SKETCH_W, MIRROR1_COPY_41_SKETCH_H)
    extrude(amount=-MIRROR1_COPY_41_DEPTH, mode=Mode.SUBTRACT)

    # Mirror1 copy 42 sketch → Mirror1 copy 42 (cut)
    with BuildSketch(Plane(origin=(0, 3.175, 31.75), x_dir=(-1, 0, 0), z_dir=(0, 1, 0))):
        with Locations((-51.5875, -3.175)):
            Rectangle(MIRROR1_COPY_42_SKETCH_W, MIRROR1_COPY_42_SKETCH_H)
    extrude(amount=-MIRROR1_COPY_42_DEPTH, mode=Mode.SUBTRACT)

    # Mirror1 copy 43 sketch → Mirror1 copy 43 (cut)
    with BuildSketch(Plane(origin=(0, 3.175, 25.4), x_dir=(-1, 0, 0), z_dir=(0, 1, 0))):
        with Locations((-51.5875, -3.175)):
            Rectangle(MIRROR1_COPY_43_SKETCH_W, MIRROR1_COPY_43_SKETCH_H)
    extrude(amount=-MIRROR1_COPY_43_DEPTH, mode=Mode.SUBTRACT)

    # Mirror1 copy 44 sketch → Mirror1 copy 44 (cut)
    with BuildSketch(Plane(origin=(0, 3.175, 19.05), x_dir=(-1, 0, 0), z_dir=(0, 1, 0))):
        with Locations((-51.5875, -3.175)):
            Rectangle(MIRROR1_COPY_44_SKETCH_W, MIRROR1_COPY_44_SKETCH_H)
    extrude(amount=-MIRROR1_COPY_44_DEPTH, mode=Mode.SUBTRACT)

    # Mirror1 copy 45 sketch → Mirror1 copy 45 (cut)
    with BuildSketch(Plane(origin=(0, 3.175, 12.7), x_dir=(-1, 0, 0), z_dir=(0, 1, 0))):
        with Locations((-51.5875, -3.175)):
            Rectangle(MIRROR1_COPY_45_SKETCH_W, MIRROR1_COPY_45_SKETCH_H)
    extrude(amount=-MIRROR1_COPY_45_DEPTH, mode=Mode.SUBTRACT)

    # Mirror1 copy 46 sketch → Mirror1 copy 46 (cut)
    with BuildSketch(Plane(origin=(0, 3.175, 6.35), x_dir=(-1, 0, 0), z_dir=(0, 1, 0))):
        with Locations((-51.5875, -3.175)):
            Rectangle(MIRROR1_COPY_46_SKETCH_W, MIRROR1_COPY_46_SKETCH_H)
    extrude(amount=-MIRROR1_COPY_46_DEPTH, mode=Mode.SUBTRACT)

    # Mirror1 copy 47 sketch → Mirror1 copy 47 (cut)
    with BuildSketch(Plane(origin=(0, 3.175, 0), x_dir=(-1, 0, 0), z_dir=(0, 1, 0))):
        with Locations((-51.5875, -3.175)):
            Rectangle(MIRROR1_COPY_47_SKETCH_W, MIRROR1_COPY_47_SKETCH_H)
    extrude(amount=-MIRROR1_COPY_47_DEPTH, mode=Mode.SUBTRACT)

    # Sketch7 → Boss-Extrude3 (add)
    # profile 1 of 2: a face of its own
    with BuildSketch(Plane(origin=(0, 3.175, 0), x_dir=(1, 0, 0), z_dir=(0, 1, 0))):
        with Locations((59.35, 0)):
            Rectangle(SKETCH7_W, SKETCH7_H)
        with Locations(Location((59.35, 31.5, 0), (0, 0, 270))):
            Circle(SKETCH7_R, mode=Mode.SUBTRACT)
        with Locations(Location((59.35, -31.5, 0), (0, 0, 270))):
            Circle(SKETCH7_R, mode=Mode.SUBTRACT)
    # profile 2 of 2: a face of its own
    with BuildSketch(Plane(origin=(0, 3.175, 0), x_dir=(1, 0, 0), z_dir=(0, 1, 0))):
        with Locations((-59.35, 0)):
            Rectangle(SKETCH7_W, SKETCH7_H)
        with Locations(Location((-59.35, 31.5, 0), (0, 0, 270))):
            Circle(SKETCH7_R, mode=Mode.SUBTRACT)
        with Locations(Location((-59.35, -31.5, 0), (0, 0, 270))):
            Circle(SKETCH7_R, mode=Mode.SUBTRACT)
    extrude(amount=-BOSS_EXTRUDE3_DEPTH)

    # Sketch8 → Boss-Extrude4 (add)
    with BuildSketch(Plane(origin=(0, 3.175, 0), x_dir=(1, 0, 0), z_dir=(0, 1, 0))):
        with Locations((-63.9375, 0)):
            Rectangle(SKETCH8_W, SKETCH8_H)
        with Locations((63.9375, 0)):
            Rectangle(SKETCH8_W, SKETCH8_H)
    extrude(amount=-BOSS_EXTRUDE4_DEPTH)

    # Sketch10 → Cut-Extrude4 (cut)
    with BuildSketch(Plane(origin=(0, 3.175, 0), x_dir=(1, 0, 0), z_dir=(0, 1, 0))):
        with Locations((-59.35, 0)):
            Rectangle(SKETCH10_W, SKETCH10_H)
        with Locations((59.35, 0)):
            Rectangle(SKETCH10_W, SKETCH10_H)
    extrude(amount=-CUT_EXTRUDE4_DEPTH, mode=Mode.SUBTRACT)


solid = part.part
